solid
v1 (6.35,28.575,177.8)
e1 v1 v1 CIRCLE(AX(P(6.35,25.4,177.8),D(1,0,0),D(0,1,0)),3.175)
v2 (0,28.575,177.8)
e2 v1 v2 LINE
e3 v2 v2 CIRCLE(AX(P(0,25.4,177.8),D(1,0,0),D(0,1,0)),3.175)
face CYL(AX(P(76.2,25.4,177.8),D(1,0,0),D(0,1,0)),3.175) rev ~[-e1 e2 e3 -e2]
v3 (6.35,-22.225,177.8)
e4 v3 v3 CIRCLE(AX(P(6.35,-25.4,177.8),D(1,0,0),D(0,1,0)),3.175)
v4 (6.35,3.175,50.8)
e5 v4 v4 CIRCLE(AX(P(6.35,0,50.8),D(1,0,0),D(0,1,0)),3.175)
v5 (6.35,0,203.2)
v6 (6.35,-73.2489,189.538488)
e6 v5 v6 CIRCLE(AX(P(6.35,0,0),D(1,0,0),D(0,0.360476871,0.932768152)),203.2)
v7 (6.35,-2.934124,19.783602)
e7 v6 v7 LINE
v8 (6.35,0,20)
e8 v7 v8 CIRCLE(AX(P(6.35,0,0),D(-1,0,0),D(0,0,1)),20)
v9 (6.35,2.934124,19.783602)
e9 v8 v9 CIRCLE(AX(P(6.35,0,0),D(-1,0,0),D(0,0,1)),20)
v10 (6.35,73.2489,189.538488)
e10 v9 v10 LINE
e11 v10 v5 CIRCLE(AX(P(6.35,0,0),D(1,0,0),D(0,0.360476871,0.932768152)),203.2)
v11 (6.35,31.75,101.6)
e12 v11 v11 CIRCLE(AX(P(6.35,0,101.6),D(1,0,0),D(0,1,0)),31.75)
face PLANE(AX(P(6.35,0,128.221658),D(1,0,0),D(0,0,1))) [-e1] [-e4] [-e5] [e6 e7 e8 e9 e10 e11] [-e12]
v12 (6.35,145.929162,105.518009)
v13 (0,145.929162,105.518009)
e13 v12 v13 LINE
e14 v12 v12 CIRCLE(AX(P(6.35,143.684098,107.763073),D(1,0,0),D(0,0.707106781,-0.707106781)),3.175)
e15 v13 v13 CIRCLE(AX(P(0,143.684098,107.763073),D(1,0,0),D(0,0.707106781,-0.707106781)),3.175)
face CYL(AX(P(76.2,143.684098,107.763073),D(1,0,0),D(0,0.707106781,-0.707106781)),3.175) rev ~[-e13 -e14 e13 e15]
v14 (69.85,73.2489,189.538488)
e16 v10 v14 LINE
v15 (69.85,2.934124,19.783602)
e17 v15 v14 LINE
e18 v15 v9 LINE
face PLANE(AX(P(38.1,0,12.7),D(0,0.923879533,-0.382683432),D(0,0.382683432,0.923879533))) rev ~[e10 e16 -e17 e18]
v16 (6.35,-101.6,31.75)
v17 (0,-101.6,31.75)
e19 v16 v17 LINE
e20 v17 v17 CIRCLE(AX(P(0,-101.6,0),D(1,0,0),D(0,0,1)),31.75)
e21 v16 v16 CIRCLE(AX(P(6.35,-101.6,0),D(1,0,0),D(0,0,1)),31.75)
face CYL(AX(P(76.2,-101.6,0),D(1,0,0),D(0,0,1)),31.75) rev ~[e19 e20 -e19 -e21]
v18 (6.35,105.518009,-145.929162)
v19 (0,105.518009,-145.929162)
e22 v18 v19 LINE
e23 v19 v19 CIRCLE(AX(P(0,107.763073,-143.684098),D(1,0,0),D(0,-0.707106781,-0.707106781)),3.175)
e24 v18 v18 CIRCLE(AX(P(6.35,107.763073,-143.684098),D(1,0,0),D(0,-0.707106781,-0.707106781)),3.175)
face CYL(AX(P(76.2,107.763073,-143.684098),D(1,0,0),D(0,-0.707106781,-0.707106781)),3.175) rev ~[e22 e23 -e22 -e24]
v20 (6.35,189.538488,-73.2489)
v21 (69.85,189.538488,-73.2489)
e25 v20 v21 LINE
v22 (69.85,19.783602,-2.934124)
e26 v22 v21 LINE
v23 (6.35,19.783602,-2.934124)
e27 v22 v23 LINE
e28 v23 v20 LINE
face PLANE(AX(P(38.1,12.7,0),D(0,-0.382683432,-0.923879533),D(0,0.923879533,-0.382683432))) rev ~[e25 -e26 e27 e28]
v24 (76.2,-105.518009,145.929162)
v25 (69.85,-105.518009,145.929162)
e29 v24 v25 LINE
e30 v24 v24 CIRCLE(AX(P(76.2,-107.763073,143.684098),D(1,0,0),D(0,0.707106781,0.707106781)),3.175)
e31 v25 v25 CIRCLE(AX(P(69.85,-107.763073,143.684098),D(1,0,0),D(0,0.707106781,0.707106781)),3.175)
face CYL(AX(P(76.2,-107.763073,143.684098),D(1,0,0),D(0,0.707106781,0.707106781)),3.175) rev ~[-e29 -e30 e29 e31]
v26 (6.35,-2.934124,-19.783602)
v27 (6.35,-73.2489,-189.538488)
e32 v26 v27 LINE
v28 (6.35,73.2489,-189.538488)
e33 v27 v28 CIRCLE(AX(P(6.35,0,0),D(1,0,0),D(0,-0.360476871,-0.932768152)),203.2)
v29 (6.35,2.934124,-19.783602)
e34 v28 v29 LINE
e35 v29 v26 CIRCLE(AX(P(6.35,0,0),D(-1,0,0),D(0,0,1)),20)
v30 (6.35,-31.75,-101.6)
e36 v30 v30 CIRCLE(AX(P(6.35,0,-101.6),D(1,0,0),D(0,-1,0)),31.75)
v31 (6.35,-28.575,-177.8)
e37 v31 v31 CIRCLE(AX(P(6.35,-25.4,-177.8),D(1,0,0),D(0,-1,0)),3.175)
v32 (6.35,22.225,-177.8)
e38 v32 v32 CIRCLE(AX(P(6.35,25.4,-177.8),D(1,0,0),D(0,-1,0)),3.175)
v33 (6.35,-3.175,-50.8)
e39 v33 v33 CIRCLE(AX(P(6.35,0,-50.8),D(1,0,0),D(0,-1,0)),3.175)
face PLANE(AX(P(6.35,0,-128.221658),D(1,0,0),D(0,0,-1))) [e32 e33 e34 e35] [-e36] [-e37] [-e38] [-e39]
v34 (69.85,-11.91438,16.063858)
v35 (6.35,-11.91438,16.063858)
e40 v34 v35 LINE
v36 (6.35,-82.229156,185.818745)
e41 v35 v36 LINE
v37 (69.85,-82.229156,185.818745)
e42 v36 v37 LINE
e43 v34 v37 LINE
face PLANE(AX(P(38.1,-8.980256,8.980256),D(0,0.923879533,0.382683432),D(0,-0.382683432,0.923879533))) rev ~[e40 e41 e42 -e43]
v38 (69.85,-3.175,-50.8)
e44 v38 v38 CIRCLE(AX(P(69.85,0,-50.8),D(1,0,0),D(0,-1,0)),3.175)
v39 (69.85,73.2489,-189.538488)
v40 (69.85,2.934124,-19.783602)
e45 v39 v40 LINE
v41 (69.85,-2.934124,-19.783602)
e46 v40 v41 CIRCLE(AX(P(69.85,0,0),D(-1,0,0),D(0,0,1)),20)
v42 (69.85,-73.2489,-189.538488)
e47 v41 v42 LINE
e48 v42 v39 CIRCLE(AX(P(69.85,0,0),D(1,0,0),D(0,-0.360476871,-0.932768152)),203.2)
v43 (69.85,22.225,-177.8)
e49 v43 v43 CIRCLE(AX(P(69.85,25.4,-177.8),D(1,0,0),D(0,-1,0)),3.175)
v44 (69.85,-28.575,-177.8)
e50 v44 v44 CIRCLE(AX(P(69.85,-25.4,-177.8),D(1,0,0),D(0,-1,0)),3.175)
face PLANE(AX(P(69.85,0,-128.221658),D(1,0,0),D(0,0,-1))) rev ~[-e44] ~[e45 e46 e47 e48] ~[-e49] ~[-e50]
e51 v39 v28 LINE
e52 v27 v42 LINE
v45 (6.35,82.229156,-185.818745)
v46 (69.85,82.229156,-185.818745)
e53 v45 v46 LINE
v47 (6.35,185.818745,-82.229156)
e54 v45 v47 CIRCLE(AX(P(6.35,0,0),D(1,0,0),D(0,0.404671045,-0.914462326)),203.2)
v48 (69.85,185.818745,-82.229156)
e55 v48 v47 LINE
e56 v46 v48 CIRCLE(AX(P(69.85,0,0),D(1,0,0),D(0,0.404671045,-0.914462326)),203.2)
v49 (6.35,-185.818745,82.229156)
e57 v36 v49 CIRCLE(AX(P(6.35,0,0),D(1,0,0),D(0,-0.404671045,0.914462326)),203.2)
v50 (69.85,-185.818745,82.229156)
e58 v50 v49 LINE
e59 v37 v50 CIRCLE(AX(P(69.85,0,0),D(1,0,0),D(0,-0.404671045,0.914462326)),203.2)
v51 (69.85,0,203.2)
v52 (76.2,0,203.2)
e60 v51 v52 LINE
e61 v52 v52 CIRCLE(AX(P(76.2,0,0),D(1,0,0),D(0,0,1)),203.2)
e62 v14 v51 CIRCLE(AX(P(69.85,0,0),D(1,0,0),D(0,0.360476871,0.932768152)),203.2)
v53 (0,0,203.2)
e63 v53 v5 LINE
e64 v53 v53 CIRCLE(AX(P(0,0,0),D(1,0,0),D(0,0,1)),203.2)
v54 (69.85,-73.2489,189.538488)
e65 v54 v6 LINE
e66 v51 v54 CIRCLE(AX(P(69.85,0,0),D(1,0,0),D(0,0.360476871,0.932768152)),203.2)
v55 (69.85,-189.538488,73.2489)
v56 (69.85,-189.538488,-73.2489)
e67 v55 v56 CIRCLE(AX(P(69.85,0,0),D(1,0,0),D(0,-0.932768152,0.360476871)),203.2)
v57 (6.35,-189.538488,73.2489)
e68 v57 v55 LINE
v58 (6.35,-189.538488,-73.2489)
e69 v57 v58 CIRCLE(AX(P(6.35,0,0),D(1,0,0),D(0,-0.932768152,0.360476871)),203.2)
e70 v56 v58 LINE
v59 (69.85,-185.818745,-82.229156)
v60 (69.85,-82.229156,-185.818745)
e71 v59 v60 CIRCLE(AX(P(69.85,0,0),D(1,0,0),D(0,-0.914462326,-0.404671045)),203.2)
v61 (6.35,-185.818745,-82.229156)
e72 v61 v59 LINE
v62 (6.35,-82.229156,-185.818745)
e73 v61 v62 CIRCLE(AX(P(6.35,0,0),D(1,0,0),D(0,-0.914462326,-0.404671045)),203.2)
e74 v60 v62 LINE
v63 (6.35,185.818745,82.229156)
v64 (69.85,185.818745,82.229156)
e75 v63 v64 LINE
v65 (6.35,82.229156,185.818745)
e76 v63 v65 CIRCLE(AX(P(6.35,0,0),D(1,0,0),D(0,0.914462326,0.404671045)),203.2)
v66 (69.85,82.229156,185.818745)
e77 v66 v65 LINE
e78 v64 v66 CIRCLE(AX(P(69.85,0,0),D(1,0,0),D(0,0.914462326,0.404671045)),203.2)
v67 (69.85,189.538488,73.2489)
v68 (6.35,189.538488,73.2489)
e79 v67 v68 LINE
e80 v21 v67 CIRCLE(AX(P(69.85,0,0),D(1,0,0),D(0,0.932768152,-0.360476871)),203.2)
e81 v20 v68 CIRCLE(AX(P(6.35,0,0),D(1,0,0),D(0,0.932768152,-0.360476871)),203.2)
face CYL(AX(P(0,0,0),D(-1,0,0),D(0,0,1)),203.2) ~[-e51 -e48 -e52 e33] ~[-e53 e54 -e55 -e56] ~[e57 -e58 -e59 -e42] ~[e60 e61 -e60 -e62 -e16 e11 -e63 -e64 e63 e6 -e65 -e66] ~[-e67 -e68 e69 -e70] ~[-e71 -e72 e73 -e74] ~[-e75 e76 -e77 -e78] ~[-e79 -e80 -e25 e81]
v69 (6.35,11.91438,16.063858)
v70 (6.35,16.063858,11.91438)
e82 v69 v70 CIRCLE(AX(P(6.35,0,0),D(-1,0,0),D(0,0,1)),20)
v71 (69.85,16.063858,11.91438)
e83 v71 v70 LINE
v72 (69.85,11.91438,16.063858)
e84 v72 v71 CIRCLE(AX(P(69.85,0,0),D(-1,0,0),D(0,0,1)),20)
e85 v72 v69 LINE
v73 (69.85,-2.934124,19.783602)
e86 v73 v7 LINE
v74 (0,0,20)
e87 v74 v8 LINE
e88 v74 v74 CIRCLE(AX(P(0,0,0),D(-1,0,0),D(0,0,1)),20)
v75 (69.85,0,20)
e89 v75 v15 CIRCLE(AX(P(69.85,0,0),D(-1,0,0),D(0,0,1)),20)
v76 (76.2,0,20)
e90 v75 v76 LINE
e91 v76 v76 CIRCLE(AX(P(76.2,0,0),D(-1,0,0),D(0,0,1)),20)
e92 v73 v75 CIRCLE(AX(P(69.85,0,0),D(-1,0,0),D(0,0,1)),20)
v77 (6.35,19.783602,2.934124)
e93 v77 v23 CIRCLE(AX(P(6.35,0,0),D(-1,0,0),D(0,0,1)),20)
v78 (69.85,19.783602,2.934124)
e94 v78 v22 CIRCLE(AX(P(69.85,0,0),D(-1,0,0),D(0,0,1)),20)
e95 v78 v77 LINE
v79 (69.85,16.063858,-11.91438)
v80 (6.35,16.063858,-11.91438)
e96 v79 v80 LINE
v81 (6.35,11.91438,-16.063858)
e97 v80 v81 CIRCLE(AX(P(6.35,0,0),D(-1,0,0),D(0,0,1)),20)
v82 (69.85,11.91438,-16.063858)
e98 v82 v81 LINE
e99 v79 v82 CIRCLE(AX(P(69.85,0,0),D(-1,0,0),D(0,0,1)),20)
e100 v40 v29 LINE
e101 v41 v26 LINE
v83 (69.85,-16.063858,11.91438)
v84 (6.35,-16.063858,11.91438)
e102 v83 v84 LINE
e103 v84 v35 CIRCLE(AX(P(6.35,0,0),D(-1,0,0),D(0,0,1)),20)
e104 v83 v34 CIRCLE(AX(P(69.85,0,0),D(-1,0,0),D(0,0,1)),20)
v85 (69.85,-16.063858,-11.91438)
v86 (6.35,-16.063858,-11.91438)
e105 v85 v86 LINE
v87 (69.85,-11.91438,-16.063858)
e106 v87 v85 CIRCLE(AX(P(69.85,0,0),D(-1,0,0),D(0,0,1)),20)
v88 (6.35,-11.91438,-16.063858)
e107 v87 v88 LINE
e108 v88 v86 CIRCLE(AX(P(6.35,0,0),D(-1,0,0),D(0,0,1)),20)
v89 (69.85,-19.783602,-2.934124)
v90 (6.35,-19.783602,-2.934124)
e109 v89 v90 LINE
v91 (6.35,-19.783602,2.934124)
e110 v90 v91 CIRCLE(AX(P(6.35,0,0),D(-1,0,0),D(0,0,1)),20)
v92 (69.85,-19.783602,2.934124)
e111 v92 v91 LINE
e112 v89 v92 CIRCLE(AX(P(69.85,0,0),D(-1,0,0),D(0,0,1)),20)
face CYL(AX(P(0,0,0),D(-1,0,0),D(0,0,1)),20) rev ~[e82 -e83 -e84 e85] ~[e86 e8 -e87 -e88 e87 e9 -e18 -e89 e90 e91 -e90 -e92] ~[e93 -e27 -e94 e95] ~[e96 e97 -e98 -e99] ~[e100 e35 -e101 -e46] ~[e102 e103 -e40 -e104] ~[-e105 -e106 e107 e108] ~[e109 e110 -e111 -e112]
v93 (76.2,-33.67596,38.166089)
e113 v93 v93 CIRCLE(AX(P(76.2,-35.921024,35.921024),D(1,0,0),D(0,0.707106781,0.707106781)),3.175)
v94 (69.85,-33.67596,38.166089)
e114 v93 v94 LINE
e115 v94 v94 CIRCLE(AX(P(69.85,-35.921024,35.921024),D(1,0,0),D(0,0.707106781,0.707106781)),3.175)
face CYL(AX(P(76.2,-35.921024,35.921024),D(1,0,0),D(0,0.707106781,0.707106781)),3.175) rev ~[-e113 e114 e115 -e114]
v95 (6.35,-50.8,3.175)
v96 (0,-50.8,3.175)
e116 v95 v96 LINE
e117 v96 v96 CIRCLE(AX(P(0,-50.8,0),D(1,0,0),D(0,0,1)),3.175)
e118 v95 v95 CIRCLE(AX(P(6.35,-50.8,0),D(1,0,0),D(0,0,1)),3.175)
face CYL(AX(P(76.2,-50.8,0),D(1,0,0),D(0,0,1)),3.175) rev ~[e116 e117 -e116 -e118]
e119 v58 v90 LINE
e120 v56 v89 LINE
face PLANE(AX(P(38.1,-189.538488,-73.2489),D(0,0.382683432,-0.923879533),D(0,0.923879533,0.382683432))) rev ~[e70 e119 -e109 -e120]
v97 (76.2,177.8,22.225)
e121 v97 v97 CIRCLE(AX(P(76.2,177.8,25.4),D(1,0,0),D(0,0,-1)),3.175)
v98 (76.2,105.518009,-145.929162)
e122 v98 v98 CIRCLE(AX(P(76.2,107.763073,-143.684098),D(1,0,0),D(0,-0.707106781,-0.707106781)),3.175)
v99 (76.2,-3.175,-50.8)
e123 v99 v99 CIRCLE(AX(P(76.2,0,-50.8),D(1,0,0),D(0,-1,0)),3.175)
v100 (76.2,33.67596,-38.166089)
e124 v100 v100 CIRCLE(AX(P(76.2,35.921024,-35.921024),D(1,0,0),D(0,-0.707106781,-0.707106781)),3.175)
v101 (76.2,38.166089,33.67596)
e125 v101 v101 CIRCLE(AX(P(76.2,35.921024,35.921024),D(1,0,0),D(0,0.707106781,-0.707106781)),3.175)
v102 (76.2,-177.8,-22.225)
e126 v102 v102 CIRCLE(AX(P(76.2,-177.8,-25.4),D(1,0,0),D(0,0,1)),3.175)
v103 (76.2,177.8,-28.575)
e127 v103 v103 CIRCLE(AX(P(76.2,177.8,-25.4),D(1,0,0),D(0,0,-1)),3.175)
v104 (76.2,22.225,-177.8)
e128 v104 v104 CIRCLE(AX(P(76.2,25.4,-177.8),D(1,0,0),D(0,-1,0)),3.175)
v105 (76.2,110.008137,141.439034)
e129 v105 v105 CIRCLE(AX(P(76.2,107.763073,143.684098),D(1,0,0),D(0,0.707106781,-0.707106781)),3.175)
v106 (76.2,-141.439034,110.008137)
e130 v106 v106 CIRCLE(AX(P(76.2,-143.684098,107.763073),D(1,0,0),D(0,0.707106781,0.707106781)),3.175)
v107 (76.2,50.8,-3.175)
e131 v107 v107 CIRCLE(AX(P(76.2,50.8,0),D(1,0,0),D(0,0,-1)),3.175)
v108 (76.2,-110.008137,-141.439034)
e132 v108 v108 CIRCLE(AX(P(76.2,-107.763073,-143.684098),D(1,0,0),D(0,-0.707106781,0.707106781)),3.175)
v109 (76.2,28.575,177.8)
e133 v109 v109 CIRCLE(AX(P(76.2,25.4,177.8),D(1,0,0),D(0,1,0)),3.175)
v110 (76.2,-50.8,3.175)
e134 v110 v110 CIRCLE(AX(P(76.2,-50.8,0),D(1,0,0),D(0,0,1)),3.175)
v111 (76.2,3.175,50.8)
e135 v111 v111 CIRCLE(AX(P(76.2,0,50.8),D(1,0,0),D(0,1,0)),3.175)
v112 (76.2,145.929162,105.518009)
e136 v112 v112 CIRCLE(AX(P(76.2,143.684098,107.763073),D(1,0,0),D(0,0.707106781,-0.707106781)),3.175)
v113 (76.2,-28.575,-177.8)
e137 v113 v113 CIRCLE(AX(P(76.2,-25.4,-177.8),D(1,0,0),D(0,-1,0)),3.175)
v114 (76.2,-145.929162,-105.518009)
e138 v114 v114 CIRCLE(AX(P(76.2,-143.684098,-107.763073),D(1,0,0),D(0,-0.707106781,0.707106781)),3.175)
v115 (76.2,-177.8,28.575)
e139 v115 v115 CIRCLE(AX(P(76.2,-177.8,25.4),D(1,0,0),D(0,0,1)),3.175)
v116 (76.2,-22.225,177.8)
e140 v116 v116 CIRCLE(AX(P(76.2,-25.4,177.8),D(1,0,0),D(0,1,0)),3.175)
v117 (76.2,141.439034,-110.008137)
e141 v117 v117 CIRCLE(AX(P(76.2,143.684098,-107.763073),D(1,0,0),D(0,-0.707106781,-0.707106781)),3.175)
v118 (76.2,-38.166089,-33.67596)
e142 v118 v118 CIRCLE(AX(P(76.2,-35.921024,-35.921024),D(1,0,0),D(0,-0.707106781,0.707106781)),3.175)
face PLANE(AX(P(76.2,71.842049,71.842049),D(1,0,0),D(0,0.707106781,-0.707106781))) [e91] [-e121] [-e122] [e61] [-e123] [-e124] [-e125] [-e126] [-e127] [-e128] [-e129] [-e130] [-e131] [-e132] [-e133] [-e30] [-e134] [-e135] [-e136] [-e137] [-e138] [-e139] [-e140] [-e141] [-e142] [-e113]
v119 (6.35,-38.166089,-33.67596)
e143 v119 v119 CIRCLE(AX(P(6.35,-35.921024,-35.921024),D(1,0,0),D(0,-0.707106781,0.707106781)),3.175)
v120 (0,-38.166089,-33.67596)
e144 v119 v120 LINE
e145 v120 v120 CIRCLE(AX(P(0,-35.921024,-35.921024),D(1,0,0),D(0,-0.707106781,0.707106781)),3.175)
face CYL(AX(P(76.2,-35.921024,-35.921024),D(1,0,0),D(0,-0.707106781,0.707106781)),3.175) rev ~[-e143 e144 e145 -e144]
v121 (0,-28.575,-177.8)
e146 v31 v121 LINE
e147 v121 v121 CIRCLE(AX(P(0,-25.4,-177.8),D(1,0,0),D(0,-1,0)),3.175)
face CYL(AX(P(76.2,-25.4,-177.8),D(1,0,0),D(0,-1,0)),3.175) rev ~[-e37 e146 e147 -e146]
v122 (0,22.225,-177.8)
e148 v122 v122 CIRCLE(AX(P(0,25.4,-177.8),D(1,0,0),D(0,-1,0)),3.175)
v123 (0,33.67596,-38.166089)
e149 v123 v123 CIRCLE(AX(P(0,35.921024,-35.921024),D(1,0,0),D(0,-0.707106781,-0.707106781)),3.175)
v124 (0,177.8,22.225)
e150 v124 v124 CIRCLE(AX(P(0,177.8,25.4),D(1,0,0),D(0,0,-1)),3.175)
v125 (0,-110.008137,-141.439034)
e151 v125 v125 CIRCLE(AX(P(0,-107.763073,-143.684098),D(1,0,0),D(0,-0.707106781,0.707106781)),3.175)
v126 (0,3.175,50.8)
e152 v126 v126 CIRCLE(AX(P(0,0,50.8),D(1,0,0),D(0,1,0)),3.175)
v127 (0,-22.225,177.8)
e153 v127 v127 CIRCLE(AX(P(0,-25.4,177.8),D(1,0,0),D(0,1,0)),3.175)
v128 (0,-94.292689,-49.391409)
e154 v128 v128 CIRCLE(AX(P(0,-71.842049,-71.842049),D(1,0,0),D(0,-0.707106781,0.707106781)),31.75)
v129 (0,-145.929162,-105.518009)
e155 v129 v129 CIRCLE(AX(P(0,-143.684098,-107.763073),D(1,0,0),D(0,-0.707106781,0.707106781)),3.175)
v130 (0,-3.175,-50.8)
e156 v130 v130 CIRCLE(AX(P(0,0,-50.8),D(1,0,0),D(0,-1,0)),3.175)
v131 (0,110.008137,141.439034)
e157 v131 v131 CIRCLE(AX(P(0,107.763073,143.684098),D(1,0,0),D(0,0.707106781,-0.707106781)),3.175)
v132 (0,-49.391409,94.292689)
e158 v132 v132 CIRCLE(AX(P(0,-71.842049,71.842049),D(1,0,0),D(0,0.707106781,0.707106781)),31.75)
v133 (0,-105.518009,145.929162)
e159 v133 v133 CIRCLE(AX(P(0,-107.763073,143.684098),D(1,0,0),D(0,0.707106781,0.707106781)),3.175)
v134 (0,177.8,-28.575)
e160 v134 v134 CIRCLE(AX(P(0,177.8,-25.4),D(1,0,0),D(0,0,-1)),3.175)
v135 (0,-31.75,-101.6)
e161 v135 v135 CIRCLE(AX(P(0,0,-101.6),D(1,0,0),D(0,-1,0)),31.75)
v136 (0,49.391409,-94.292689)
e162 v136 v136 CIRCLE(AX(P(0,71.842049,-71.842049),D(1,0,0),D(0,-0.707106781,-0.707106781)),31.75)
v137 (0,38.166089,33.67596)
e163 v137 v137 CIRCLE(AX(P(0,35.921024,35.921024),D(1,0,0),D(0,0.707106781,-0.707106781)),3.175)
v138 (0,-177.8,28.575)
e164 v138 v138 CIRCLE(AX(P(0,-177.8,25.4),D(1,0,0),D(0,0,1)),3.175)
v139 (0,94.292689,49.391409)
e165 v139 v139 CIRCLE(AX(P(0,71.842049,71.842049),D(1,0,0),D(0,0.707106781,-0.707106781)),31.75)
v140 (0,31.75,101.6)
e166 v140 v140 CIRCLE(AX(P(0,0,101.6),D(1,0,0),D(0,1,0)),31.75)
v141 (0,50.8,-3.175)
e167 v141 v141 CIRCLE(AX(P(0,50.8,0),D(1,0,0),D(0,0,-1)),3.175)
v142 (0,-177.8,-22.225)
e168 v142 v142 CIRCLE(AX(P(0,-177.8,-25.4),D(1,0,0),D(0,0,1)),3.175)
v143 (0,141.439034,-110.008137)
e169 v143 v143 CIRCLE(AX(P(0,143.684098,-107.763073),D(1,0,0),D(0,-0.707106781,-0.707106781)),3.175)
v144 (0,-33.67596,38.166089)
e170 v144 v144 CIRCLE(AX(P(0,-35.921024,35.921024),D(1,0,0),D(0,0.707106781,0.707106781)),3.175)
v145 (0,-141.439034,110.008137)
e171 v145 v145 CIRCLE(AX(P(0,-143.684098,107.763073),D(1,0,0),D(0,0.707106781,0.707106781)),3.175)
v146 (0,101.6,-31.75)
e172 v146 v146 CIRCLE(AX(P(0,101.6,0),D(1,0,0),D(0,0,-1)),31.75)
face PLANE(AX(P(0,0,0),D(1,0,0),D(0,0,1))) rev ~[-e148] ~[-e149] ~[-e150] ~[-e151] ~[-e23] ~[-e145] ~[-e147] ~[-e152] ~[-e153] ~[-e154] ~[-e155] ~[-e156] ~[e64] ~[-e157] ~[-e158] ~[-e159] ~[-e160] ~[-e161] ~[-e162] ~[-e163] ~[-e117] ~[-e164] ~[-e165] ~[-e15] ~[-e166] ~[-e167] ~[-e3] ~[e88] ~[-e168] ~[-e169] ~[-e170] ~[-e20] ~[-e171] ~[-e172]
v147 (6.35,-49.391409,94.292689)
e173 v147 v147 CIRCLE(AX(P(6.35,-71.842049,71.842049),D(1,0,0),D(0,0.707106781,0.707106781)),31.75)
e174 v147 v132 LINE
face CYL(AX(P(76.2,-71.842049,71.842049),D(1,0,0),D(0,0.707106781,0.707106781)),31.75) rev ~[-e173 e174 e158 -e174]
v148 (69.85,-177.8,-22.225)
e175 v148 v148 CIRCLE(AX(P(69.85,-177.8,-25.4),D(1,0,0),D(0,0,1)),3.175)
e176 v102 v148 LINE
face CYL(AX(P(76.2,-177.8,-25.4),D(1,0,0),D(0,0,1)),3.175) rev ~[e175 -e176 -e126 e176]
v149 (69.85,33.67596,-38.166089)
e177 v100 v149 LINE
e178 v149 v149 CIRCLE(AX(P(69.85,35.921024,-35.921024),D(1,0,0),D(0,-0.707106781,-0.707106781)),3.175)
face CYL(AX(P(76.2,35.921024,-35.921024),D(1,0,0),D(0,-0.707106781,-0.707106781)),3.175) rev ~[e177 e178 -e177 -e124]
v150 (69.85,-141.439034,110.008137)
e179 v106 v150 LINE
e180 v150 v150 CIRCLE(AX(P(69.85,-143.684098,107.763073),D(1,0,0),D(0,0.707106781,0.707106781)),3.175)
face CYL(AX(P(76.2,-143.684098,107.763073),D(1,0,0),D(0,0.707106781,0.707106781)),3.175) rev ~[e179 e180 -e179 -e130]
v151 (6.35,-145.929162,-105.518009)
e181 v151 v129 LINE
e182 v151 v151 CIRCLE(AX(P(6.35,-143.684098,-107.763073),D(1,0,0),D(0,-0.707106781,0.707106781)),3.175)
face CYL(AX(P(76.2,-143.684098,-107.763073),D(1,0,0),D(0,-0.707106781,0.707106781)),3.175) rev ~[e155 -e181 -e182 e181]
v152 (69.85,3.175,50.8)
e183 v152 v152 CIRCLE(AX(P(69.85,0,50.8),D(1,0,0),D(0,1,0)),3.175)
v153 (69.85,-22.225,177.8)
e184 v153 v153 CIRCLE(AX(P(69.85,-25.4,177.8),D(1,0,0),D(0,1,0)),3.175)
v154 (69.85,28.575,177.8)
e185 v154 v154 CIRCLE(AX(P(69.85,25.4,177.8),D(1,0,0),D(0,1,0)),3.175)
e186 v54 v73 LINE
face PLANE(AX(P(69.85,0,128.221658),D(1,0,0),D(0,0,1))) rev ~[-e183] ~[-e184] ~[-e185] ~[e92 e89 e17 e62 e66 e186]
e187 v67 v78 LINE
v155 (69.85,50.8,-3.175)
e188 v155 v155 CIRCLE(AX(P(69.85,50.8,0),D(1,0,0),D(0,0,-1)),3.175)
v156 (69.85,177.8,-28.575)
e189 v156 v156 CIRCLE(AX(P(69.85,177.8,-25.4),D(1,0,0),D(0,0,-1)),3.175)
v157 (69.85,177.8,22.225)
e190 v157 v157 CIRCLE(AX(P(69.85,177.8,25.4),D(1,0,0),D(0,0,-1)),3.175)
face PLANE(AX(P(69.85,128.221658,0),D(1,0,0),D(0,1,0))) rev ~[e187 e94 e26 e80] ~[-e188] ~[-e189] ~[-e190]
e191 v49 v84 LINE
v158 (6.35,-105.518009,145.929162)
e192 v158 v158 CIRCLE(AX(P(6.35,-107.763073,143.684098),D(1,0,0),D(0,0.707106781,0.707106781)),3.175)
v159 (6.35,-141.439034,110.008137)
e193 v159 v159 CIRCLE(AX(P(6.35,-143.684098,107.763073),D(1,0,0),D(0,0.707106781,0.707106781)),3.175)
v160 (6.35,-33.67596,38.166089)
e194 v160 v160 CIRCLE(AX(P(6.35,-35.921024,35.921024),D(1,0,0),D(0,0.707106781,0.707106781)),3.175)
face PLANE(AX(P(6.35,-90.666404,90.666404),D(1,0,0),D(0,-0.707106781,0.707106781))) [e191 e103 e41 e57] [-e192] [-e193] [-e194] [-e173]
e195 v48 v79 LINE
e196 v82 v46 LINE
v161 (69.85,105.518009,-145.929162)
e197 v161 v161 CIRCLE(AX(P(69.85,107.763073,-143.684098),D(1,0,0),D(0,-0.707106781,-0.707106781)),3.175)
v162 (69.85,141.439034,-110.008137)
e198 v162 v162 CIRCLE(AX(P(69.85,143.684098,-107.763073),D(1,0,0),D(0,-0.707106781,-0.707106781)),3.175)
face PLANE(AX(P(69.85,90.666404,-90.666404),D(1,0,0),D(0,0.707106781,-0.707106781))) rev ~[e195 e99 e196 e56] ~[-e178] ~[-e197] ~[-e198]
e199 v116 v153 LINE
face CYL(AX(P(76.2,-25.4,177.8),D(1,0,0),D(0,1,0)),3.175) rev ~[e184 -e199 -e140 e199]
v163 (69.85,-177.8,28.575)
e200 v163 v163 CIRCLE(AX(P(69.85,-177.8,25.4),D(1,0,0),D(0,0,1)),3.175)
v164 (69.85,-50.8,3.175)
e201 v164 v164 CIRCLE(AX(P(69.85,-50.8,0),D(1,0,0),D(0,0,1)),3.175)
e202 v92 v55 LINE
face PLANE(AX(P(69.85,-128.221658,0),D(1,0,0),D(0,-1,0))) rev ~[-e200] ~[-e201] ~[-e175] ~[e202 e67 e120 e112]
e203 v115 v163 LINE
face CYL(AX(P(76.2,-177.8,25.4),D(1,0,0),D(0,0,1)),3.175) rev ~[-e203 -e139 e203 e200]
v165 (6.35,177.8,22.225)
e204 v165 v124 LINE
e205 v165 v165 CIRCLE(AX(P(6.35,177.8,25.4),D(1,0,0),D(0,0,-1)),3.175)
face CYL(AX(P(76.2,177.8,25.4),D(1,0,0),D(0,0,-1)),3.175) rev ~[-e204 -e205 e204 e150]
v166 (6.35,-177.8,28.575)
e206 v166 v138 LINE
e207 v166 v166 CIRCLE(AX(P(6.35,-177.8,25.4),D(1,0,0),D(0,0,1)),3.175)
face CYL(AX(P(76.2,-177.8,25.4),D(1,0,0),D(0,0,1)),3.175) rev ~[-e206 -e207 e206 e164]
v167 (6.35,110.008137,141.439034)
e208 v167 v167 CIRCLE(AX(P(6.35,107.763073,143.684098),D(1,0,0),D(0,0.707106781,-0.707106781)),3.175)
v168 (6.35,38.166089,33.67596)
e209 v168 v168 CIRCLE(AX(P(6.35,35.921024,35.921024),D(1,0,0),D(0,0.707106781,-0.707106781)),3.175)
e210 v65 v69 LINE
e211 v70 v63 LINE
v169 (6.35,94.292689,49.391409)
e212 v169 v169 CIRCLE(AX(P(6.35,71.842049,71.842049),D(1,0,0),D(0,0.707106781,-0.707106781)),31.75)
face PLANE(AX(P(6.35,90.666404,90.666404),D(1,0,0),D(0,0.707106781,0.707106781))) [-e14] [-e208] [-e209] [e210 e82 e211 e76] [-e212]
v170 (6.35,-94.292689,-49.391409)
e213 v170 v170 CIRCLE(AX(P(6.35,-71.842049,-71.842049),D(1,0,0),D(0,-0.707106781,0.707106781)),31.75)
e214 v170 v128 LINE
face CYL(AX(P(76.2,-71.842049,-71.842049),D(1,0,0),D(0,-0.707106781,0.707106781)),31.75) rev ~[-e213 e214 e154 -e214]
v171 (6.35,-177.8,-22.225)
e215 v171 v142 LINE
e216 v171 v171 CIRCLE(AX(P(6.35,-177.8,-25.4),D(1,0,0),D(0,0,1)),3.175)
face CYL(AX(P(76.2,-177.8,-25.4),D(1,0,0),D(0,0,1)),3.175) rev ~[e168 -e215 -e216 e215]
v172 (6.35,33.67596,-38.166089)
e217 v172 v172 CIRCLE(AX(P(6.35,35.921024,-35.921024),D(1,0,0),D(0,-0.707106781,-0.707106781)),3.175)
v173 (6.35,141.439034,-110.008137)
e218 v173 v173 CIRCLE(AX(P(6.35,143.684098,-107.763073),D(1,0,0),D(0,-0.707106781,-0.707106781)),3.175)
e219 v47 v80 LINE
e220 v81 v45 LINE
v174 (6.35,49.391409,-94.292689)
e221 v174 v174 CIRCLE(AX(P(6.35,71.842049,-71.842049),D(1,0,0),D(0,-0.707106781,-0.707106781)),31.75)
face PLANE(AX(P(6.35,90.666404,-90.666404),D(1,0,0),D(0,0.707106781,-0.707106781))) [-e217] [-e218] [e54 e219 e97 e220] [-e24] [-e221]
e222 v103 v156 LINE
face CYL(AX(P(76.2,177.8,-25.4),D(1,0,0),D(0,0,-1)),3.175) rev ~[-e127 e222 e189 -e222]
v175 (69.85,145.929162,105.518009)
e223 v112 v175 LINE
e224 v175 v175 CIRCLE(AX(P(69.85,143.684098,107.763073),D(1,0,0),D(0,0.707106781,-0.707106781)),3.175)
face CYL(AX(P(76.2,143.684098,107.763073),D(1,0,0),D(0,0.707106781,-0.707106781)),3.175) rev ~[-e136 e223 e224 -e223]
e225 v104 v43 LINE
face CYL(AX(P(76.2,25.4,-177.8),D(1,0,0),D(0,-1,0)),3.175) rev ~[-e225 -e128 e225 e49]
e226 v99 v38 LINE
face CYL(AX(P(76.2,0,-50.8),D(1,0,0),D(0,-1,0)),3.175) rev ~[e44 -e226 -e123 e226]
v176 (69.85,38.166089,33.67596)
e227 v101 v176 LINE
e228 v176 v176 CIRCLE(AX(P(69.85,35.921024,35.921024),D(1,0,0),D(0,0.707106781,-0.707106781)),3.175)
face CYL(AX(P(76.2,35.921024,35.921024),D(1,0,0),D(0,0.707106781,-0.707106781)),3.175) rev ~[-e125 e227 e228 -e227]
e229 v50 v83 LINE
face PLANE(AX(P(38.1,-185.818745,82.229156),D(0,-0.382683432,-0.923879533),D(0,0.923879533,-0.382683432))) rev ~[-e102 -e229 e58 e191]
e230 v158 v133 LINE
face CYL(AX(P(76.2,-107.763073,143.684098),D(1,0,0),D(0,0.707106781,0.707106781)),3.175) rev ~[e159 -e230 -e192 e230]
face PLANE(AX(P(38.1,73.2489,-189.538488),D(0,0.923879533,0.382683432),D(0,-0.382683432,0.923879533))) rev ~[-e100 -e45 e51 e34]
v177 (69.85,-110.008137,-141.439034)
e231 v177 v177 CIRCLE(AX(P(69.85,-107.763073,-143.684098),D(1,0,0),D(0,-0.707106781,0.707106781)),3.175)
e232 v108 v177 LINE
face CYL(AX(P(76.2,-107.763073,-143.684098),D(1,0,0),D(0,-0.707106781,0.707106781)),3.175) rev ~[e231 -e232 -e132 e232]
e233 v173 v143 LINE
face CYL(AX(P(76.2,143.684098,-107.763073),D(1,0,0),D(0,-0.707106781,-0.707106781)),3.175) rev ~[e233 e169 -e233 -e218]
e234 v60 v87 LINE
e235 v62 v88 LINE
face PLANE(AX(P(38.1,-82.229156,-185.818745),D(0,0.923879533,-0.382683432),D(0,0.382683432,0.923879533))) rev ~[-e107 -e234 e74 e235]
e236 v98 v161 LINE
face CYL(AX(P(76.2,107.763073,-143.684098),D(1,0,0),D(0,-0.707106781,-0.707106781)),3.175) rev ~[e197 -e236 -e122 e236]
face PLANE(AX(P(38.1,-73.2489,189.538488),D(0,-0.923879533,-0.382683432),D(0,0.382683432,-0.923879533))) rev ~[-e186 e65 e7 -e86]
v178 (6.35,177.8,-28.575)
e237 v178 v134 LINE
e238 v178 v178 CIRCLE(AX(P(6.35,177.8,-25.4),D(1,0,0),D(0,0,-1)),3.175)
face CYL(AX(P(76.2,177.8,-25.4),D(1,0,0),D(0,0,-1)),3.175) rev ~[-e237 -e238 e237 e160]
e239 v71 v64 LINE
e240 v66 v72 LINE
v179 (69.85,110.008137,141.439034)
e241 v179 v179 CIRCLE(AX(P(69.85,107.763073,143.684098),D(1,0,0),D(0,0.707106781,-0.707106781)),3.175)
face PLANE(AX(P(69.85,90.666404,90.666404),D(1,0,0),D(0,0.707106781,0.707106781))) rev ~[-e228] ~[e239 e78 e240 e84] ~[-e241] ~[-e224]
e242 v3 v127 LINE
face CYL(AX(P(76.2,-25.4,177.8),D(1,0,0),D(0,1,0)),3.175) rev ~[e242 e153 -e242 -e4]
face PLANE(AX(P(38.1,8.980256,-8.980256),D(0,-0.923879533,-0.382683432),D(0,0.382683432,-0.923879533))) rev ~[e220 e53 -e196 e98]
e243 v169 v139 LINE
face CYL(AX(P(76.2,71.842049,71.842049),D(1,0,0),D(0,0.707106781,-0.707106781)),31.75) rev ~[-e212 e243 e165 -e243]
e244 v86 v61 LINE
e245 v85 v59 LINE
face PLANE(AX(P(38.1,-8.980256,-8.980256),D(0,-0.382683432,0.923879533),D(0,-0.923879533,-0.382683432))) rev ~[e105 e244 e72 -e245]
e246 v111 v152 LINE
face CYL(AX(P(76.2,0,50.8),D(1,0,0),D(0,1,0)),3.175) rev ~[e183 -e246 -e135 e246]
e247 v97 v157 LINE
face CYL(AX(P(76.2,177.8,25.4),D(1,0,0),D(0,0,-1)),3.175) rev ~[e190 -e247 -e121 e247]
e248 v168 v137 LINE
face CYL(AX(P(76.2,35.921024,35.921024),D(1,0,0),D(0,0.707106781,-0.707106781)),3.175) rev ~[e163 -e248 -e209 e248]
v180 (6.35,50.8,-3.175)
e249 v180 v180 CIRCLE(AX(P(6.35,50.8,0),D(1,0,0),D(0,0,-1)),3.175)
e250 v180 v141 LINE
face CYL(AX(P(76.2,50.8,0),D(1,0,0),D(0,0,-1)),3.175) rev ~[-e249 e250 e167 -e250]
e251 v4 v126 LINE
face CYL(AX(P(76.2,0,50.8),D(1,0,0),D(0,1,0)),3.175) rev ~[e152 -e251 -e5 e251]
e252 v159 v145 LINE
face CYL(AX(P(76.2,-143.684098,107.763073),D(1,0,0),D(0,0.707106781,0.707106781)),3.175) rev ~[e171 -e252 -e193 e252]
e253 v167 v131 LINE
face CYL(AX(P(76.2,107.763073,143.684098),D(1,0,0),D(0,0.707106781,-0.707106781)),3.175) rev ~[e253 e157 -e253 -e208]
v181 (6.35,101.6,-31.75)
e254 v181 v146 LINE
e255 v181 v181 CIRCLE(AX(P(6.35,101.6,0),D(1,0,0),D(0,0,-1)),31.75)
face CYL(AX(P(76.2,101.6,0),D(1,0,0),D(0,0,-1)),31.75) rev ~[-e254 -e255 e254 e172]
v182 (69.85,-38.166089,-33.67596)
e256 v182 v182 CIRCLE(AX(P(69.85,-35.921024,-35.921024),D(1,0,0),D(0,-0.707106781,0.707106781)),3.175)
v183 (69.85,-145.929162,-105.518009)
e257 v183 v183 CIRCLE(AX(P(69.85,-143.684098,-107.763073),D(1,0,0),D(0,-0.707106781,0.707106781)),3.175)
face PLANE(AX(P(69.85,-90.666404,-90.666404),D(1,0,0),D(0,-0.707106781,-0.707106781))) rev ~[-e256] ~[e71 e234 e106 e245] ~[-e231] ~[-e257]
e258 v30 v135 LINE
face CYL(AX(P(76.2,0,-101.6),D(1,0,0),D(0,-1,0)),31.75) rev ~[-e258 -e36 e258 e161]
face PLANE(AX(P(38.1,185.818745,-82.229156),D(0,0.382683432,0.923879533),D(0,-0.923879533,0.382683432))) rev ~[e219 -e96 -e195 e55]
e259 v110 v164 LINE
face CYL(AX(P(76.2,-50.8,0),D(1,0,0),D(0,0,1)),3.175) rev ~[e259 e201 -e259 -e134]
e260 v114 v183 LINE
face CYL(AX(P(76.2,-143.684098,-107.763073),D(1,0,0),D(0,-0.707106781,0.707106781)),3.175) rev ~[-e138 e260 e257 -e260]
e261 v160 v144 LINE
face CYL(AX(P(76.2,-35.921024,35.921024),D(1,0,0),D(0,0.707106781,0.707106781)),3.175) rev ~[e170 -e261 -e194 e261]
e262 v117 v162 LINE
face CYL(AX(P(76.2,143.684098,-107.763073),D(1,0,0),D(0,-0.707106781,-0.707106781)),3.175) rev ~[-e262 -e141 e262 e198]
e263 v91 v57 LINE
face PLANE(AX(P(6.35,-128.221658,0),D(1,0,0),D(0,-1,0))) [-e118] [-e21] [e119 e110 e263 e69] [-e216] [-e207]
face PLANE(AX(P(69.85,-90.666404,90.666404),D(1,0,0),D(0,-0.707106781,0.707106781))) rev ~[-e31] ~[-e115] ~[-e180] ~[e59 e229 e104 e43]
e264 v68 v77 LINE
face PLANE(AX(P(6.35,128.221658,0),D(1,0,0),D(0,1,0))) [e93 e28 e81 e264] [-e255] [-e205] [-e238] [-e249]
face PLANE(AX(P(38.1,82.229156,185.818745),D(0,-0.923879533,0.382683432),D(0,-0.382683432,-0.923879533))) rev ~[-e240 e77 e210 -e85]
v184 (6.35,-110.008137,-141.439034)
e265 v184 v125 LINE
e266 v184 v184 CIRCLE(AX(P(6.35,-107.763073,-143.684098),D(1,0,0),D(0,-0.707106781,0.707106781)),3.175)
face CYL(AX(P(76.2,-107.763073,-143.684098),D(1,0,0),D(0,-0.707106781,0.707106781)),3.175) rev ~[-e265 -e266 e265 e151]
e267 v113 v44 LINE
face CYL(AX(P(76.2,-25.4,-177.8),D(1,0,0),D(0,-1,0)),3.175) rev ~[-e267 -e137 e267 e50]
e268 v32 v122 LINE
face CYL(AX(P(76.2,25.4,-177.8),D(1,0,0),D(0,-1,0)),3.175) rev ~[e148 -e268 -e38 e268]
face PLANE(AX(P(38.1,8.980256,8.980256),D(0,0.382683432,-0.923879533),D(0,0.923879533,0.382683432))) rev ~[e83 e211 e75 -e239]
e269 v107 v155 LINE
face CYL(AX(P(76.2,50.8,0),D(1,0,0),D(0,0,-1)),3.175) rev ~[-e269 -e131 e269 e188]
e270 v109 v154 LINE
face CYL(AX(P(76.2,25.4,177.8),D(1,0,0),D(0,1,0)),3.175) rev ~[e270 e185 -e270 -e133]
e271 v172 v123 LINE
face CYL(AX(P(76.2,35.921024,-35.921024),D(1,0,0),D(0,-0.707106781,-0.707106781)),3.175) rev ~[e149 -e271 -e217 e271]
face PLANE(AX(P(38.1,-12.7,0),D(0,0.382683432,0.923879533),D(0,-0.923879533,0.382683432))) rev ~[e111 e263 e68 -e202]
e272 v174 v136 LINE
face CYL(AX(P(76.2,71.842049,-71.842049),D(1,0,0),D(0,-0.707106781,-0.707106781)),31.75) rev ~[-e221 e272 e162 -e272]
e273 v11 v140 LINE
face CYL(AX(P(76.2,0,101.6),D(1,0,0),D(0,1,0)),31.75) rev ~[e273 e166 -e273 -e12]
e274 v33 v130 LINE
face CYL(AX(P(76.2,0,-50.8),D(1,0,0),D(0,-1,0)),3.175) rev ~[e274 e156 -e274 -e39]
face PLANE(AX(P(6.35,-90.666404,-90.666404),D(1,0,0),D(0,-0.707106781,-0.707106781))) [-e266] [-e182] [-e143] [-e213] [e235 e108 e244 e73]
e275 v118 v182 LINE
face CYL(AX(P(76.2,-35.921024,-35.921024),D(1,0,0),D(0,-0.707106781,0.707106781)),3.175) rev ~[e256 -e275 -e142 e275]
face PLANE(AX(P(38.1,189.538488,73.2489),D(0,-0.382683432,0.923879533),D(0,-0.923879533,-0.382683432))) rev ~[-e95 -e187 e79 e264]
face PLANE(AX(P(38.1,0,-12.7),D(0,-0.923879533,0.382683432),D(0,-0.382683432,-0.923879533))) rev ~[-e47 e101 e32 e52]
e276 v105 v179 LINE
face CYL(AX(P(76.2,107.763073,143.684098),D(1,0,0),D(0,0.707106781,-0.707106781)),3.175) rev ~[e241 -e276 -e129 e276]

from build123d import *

# Parameters (mm, degrees)
SKETCH1_R           = 203.2
BOSS_EXTRUDE1_DEPTH = 76.2
SKETCH6_R           = 31.75
SKETCH6_R_2         = 3.175
CUT_EXTRUDE1_DEPTH  = 298.299377732
CIRPATTERN1_COUNT   = 8
CUT_EXTRUDE3_DEPTH  = 31.75
CIRPATTERN2_COUNT   = 8
SKETCH11_R          = 31.75
BOSS_EXTRUDE2_DEPTH = 6.35
CIRPATTERN4_COUNT   = 8
CUT_EXTRUDE4_REACH  = 299.299
SKETCH12_R          = 20


with BuildPart() as part:
    # Sketch1 → Boss-Extrude1 (new body)
    with BuildSketch(Plane(origin=(0, 0, 0), x_dir=(0, 0, -1), z_dir=(1, 0, 0))):
        with Locations(Location((0, 0, 0), (0, 0, 180))):
            Circle(SKETCH1_R)
    extrude(amount=BOSS_EXTRUDE1_DEPTH)

    # Sketch6 → Cut-Extrude1 (cut, through all)
    with BuildSketch(Plane(origin=(76.2, 0, 0), x_dir=(0, 0, -1), z_dir=(1, 0, 0))):
        with Locations((0, 101.6)):
            Circle(SKETCH6_R)
        with Locations((25.4, 177.8)):
            Circle(SKETCH6_R_2)
        with Locations((-25.4, 177.8)):
            Circle(SKETCH6_R_2)
        with Locations((0, 50.8)):
            Circle(SKETCH6_R_2)
    cut_extrude1 = extrude(amount=-CUT_EXTRUDE1_DEPTH, mode=Mode.SUBTRACT)

    # CirPattern1: Cut-Extrude1 ×8 about axis
    cirpattern1_axis = Axis((0, 0, 0), (1, 0, 0))
    for i in range(1, CIRPATTERN1_COUNT):
        add(cut_extrude1.rotate(cirpattern1_axis, i * 360 / CIRPATTERN1_COUNT), mode=Mode.SUBTRACT)

    # Sketch8 → Cut-Extrude3 (cut, symmetric)
    with BuildSketch(Plane(origin=(38.1, 0, 0), x_dir=(0, 0, -1), z_dir=(1, 0, 0))):
        with BuildLine():
            Line((12.7, 0), (189.538488464, -73.248900271))
            ThreePointArc((189.538488464, -73.248900271), (203.2, 0), (189.538488464, 73.248900271))
            Line((189.538488464, 73.248900271), (12.7, 0))
        make_face()
    cut_extrude3 = extrude(amount=CUT_EXTRUDE3_DEPTH, both=True, mode=Mode.SUBTRACT)

    # CirPattern2: Cut-Extrude3 ×8 about axis
    cirpattern2_axis = Axis((0, 0, 0), (1, 0, 0))
    for i in range(1, CIRPATTERN2_COUNT):
        add(cut_extrude3.rotate(cirpattern2_axis, i * 360 / CIRPATTERN2_COUNT), mode=Mode.SUBTRACT)

    # Sketch11 → Boss-Extrude2 (add)
    with BuildSketch(Plane(origin=(76.2, 0, 0), x_dir=(0, 0, -1), z_dir=(1, 0, 0))):
        with Locations((0, 101.6)):
            Circle(SKETCH11_R)
    boss_extrude2 = extrude(amount=-BOSS_EXTRUDE2_DEPTH)

    # CirPattern4: Boss-Extrude2 ×8 about axis
    cirpattern4_axis = Axis((0, 0, 0), (-1, 0, 0))
    for i in range(1, CIRPATTERN4_COUNT):
        add(boss_extrude2.rotate(cirpattern4_axis, i * 360 / CIRPATTERN4_COUNT))

    # Cut-Extrude4: up to this face of the body (flat: up to its plane)
    cut_extrude4_end = Plane(part.part.faces().sort_by_distance((76.2, 0, 0))[0])
    # Sketch12 → Cut-Extrude4 (cut, up to the picked face)
    with BuildSketch(Plane.ZY, mode=Mode.PRIVATE) as cut_extrude4_sk1:
        Circle(SKETCH12_R)
    cut_extrude4_tool1 = split(extrude(cut_extrude4_sk1.sketch, amount=-CUT_EXTRUDE4_REACH, mode=Mode.PRIVATE), bisect_by=cut_extrude4_end, keep=Keep.BOTH, mode=Mode.PRIVATE)
    add(cut_extrude4_tool1.solids().sort_by(Axis((0, 0, 0), (1, 0, 0)))[0], mode=Mode.SUBTRACT)


solid = part.part
